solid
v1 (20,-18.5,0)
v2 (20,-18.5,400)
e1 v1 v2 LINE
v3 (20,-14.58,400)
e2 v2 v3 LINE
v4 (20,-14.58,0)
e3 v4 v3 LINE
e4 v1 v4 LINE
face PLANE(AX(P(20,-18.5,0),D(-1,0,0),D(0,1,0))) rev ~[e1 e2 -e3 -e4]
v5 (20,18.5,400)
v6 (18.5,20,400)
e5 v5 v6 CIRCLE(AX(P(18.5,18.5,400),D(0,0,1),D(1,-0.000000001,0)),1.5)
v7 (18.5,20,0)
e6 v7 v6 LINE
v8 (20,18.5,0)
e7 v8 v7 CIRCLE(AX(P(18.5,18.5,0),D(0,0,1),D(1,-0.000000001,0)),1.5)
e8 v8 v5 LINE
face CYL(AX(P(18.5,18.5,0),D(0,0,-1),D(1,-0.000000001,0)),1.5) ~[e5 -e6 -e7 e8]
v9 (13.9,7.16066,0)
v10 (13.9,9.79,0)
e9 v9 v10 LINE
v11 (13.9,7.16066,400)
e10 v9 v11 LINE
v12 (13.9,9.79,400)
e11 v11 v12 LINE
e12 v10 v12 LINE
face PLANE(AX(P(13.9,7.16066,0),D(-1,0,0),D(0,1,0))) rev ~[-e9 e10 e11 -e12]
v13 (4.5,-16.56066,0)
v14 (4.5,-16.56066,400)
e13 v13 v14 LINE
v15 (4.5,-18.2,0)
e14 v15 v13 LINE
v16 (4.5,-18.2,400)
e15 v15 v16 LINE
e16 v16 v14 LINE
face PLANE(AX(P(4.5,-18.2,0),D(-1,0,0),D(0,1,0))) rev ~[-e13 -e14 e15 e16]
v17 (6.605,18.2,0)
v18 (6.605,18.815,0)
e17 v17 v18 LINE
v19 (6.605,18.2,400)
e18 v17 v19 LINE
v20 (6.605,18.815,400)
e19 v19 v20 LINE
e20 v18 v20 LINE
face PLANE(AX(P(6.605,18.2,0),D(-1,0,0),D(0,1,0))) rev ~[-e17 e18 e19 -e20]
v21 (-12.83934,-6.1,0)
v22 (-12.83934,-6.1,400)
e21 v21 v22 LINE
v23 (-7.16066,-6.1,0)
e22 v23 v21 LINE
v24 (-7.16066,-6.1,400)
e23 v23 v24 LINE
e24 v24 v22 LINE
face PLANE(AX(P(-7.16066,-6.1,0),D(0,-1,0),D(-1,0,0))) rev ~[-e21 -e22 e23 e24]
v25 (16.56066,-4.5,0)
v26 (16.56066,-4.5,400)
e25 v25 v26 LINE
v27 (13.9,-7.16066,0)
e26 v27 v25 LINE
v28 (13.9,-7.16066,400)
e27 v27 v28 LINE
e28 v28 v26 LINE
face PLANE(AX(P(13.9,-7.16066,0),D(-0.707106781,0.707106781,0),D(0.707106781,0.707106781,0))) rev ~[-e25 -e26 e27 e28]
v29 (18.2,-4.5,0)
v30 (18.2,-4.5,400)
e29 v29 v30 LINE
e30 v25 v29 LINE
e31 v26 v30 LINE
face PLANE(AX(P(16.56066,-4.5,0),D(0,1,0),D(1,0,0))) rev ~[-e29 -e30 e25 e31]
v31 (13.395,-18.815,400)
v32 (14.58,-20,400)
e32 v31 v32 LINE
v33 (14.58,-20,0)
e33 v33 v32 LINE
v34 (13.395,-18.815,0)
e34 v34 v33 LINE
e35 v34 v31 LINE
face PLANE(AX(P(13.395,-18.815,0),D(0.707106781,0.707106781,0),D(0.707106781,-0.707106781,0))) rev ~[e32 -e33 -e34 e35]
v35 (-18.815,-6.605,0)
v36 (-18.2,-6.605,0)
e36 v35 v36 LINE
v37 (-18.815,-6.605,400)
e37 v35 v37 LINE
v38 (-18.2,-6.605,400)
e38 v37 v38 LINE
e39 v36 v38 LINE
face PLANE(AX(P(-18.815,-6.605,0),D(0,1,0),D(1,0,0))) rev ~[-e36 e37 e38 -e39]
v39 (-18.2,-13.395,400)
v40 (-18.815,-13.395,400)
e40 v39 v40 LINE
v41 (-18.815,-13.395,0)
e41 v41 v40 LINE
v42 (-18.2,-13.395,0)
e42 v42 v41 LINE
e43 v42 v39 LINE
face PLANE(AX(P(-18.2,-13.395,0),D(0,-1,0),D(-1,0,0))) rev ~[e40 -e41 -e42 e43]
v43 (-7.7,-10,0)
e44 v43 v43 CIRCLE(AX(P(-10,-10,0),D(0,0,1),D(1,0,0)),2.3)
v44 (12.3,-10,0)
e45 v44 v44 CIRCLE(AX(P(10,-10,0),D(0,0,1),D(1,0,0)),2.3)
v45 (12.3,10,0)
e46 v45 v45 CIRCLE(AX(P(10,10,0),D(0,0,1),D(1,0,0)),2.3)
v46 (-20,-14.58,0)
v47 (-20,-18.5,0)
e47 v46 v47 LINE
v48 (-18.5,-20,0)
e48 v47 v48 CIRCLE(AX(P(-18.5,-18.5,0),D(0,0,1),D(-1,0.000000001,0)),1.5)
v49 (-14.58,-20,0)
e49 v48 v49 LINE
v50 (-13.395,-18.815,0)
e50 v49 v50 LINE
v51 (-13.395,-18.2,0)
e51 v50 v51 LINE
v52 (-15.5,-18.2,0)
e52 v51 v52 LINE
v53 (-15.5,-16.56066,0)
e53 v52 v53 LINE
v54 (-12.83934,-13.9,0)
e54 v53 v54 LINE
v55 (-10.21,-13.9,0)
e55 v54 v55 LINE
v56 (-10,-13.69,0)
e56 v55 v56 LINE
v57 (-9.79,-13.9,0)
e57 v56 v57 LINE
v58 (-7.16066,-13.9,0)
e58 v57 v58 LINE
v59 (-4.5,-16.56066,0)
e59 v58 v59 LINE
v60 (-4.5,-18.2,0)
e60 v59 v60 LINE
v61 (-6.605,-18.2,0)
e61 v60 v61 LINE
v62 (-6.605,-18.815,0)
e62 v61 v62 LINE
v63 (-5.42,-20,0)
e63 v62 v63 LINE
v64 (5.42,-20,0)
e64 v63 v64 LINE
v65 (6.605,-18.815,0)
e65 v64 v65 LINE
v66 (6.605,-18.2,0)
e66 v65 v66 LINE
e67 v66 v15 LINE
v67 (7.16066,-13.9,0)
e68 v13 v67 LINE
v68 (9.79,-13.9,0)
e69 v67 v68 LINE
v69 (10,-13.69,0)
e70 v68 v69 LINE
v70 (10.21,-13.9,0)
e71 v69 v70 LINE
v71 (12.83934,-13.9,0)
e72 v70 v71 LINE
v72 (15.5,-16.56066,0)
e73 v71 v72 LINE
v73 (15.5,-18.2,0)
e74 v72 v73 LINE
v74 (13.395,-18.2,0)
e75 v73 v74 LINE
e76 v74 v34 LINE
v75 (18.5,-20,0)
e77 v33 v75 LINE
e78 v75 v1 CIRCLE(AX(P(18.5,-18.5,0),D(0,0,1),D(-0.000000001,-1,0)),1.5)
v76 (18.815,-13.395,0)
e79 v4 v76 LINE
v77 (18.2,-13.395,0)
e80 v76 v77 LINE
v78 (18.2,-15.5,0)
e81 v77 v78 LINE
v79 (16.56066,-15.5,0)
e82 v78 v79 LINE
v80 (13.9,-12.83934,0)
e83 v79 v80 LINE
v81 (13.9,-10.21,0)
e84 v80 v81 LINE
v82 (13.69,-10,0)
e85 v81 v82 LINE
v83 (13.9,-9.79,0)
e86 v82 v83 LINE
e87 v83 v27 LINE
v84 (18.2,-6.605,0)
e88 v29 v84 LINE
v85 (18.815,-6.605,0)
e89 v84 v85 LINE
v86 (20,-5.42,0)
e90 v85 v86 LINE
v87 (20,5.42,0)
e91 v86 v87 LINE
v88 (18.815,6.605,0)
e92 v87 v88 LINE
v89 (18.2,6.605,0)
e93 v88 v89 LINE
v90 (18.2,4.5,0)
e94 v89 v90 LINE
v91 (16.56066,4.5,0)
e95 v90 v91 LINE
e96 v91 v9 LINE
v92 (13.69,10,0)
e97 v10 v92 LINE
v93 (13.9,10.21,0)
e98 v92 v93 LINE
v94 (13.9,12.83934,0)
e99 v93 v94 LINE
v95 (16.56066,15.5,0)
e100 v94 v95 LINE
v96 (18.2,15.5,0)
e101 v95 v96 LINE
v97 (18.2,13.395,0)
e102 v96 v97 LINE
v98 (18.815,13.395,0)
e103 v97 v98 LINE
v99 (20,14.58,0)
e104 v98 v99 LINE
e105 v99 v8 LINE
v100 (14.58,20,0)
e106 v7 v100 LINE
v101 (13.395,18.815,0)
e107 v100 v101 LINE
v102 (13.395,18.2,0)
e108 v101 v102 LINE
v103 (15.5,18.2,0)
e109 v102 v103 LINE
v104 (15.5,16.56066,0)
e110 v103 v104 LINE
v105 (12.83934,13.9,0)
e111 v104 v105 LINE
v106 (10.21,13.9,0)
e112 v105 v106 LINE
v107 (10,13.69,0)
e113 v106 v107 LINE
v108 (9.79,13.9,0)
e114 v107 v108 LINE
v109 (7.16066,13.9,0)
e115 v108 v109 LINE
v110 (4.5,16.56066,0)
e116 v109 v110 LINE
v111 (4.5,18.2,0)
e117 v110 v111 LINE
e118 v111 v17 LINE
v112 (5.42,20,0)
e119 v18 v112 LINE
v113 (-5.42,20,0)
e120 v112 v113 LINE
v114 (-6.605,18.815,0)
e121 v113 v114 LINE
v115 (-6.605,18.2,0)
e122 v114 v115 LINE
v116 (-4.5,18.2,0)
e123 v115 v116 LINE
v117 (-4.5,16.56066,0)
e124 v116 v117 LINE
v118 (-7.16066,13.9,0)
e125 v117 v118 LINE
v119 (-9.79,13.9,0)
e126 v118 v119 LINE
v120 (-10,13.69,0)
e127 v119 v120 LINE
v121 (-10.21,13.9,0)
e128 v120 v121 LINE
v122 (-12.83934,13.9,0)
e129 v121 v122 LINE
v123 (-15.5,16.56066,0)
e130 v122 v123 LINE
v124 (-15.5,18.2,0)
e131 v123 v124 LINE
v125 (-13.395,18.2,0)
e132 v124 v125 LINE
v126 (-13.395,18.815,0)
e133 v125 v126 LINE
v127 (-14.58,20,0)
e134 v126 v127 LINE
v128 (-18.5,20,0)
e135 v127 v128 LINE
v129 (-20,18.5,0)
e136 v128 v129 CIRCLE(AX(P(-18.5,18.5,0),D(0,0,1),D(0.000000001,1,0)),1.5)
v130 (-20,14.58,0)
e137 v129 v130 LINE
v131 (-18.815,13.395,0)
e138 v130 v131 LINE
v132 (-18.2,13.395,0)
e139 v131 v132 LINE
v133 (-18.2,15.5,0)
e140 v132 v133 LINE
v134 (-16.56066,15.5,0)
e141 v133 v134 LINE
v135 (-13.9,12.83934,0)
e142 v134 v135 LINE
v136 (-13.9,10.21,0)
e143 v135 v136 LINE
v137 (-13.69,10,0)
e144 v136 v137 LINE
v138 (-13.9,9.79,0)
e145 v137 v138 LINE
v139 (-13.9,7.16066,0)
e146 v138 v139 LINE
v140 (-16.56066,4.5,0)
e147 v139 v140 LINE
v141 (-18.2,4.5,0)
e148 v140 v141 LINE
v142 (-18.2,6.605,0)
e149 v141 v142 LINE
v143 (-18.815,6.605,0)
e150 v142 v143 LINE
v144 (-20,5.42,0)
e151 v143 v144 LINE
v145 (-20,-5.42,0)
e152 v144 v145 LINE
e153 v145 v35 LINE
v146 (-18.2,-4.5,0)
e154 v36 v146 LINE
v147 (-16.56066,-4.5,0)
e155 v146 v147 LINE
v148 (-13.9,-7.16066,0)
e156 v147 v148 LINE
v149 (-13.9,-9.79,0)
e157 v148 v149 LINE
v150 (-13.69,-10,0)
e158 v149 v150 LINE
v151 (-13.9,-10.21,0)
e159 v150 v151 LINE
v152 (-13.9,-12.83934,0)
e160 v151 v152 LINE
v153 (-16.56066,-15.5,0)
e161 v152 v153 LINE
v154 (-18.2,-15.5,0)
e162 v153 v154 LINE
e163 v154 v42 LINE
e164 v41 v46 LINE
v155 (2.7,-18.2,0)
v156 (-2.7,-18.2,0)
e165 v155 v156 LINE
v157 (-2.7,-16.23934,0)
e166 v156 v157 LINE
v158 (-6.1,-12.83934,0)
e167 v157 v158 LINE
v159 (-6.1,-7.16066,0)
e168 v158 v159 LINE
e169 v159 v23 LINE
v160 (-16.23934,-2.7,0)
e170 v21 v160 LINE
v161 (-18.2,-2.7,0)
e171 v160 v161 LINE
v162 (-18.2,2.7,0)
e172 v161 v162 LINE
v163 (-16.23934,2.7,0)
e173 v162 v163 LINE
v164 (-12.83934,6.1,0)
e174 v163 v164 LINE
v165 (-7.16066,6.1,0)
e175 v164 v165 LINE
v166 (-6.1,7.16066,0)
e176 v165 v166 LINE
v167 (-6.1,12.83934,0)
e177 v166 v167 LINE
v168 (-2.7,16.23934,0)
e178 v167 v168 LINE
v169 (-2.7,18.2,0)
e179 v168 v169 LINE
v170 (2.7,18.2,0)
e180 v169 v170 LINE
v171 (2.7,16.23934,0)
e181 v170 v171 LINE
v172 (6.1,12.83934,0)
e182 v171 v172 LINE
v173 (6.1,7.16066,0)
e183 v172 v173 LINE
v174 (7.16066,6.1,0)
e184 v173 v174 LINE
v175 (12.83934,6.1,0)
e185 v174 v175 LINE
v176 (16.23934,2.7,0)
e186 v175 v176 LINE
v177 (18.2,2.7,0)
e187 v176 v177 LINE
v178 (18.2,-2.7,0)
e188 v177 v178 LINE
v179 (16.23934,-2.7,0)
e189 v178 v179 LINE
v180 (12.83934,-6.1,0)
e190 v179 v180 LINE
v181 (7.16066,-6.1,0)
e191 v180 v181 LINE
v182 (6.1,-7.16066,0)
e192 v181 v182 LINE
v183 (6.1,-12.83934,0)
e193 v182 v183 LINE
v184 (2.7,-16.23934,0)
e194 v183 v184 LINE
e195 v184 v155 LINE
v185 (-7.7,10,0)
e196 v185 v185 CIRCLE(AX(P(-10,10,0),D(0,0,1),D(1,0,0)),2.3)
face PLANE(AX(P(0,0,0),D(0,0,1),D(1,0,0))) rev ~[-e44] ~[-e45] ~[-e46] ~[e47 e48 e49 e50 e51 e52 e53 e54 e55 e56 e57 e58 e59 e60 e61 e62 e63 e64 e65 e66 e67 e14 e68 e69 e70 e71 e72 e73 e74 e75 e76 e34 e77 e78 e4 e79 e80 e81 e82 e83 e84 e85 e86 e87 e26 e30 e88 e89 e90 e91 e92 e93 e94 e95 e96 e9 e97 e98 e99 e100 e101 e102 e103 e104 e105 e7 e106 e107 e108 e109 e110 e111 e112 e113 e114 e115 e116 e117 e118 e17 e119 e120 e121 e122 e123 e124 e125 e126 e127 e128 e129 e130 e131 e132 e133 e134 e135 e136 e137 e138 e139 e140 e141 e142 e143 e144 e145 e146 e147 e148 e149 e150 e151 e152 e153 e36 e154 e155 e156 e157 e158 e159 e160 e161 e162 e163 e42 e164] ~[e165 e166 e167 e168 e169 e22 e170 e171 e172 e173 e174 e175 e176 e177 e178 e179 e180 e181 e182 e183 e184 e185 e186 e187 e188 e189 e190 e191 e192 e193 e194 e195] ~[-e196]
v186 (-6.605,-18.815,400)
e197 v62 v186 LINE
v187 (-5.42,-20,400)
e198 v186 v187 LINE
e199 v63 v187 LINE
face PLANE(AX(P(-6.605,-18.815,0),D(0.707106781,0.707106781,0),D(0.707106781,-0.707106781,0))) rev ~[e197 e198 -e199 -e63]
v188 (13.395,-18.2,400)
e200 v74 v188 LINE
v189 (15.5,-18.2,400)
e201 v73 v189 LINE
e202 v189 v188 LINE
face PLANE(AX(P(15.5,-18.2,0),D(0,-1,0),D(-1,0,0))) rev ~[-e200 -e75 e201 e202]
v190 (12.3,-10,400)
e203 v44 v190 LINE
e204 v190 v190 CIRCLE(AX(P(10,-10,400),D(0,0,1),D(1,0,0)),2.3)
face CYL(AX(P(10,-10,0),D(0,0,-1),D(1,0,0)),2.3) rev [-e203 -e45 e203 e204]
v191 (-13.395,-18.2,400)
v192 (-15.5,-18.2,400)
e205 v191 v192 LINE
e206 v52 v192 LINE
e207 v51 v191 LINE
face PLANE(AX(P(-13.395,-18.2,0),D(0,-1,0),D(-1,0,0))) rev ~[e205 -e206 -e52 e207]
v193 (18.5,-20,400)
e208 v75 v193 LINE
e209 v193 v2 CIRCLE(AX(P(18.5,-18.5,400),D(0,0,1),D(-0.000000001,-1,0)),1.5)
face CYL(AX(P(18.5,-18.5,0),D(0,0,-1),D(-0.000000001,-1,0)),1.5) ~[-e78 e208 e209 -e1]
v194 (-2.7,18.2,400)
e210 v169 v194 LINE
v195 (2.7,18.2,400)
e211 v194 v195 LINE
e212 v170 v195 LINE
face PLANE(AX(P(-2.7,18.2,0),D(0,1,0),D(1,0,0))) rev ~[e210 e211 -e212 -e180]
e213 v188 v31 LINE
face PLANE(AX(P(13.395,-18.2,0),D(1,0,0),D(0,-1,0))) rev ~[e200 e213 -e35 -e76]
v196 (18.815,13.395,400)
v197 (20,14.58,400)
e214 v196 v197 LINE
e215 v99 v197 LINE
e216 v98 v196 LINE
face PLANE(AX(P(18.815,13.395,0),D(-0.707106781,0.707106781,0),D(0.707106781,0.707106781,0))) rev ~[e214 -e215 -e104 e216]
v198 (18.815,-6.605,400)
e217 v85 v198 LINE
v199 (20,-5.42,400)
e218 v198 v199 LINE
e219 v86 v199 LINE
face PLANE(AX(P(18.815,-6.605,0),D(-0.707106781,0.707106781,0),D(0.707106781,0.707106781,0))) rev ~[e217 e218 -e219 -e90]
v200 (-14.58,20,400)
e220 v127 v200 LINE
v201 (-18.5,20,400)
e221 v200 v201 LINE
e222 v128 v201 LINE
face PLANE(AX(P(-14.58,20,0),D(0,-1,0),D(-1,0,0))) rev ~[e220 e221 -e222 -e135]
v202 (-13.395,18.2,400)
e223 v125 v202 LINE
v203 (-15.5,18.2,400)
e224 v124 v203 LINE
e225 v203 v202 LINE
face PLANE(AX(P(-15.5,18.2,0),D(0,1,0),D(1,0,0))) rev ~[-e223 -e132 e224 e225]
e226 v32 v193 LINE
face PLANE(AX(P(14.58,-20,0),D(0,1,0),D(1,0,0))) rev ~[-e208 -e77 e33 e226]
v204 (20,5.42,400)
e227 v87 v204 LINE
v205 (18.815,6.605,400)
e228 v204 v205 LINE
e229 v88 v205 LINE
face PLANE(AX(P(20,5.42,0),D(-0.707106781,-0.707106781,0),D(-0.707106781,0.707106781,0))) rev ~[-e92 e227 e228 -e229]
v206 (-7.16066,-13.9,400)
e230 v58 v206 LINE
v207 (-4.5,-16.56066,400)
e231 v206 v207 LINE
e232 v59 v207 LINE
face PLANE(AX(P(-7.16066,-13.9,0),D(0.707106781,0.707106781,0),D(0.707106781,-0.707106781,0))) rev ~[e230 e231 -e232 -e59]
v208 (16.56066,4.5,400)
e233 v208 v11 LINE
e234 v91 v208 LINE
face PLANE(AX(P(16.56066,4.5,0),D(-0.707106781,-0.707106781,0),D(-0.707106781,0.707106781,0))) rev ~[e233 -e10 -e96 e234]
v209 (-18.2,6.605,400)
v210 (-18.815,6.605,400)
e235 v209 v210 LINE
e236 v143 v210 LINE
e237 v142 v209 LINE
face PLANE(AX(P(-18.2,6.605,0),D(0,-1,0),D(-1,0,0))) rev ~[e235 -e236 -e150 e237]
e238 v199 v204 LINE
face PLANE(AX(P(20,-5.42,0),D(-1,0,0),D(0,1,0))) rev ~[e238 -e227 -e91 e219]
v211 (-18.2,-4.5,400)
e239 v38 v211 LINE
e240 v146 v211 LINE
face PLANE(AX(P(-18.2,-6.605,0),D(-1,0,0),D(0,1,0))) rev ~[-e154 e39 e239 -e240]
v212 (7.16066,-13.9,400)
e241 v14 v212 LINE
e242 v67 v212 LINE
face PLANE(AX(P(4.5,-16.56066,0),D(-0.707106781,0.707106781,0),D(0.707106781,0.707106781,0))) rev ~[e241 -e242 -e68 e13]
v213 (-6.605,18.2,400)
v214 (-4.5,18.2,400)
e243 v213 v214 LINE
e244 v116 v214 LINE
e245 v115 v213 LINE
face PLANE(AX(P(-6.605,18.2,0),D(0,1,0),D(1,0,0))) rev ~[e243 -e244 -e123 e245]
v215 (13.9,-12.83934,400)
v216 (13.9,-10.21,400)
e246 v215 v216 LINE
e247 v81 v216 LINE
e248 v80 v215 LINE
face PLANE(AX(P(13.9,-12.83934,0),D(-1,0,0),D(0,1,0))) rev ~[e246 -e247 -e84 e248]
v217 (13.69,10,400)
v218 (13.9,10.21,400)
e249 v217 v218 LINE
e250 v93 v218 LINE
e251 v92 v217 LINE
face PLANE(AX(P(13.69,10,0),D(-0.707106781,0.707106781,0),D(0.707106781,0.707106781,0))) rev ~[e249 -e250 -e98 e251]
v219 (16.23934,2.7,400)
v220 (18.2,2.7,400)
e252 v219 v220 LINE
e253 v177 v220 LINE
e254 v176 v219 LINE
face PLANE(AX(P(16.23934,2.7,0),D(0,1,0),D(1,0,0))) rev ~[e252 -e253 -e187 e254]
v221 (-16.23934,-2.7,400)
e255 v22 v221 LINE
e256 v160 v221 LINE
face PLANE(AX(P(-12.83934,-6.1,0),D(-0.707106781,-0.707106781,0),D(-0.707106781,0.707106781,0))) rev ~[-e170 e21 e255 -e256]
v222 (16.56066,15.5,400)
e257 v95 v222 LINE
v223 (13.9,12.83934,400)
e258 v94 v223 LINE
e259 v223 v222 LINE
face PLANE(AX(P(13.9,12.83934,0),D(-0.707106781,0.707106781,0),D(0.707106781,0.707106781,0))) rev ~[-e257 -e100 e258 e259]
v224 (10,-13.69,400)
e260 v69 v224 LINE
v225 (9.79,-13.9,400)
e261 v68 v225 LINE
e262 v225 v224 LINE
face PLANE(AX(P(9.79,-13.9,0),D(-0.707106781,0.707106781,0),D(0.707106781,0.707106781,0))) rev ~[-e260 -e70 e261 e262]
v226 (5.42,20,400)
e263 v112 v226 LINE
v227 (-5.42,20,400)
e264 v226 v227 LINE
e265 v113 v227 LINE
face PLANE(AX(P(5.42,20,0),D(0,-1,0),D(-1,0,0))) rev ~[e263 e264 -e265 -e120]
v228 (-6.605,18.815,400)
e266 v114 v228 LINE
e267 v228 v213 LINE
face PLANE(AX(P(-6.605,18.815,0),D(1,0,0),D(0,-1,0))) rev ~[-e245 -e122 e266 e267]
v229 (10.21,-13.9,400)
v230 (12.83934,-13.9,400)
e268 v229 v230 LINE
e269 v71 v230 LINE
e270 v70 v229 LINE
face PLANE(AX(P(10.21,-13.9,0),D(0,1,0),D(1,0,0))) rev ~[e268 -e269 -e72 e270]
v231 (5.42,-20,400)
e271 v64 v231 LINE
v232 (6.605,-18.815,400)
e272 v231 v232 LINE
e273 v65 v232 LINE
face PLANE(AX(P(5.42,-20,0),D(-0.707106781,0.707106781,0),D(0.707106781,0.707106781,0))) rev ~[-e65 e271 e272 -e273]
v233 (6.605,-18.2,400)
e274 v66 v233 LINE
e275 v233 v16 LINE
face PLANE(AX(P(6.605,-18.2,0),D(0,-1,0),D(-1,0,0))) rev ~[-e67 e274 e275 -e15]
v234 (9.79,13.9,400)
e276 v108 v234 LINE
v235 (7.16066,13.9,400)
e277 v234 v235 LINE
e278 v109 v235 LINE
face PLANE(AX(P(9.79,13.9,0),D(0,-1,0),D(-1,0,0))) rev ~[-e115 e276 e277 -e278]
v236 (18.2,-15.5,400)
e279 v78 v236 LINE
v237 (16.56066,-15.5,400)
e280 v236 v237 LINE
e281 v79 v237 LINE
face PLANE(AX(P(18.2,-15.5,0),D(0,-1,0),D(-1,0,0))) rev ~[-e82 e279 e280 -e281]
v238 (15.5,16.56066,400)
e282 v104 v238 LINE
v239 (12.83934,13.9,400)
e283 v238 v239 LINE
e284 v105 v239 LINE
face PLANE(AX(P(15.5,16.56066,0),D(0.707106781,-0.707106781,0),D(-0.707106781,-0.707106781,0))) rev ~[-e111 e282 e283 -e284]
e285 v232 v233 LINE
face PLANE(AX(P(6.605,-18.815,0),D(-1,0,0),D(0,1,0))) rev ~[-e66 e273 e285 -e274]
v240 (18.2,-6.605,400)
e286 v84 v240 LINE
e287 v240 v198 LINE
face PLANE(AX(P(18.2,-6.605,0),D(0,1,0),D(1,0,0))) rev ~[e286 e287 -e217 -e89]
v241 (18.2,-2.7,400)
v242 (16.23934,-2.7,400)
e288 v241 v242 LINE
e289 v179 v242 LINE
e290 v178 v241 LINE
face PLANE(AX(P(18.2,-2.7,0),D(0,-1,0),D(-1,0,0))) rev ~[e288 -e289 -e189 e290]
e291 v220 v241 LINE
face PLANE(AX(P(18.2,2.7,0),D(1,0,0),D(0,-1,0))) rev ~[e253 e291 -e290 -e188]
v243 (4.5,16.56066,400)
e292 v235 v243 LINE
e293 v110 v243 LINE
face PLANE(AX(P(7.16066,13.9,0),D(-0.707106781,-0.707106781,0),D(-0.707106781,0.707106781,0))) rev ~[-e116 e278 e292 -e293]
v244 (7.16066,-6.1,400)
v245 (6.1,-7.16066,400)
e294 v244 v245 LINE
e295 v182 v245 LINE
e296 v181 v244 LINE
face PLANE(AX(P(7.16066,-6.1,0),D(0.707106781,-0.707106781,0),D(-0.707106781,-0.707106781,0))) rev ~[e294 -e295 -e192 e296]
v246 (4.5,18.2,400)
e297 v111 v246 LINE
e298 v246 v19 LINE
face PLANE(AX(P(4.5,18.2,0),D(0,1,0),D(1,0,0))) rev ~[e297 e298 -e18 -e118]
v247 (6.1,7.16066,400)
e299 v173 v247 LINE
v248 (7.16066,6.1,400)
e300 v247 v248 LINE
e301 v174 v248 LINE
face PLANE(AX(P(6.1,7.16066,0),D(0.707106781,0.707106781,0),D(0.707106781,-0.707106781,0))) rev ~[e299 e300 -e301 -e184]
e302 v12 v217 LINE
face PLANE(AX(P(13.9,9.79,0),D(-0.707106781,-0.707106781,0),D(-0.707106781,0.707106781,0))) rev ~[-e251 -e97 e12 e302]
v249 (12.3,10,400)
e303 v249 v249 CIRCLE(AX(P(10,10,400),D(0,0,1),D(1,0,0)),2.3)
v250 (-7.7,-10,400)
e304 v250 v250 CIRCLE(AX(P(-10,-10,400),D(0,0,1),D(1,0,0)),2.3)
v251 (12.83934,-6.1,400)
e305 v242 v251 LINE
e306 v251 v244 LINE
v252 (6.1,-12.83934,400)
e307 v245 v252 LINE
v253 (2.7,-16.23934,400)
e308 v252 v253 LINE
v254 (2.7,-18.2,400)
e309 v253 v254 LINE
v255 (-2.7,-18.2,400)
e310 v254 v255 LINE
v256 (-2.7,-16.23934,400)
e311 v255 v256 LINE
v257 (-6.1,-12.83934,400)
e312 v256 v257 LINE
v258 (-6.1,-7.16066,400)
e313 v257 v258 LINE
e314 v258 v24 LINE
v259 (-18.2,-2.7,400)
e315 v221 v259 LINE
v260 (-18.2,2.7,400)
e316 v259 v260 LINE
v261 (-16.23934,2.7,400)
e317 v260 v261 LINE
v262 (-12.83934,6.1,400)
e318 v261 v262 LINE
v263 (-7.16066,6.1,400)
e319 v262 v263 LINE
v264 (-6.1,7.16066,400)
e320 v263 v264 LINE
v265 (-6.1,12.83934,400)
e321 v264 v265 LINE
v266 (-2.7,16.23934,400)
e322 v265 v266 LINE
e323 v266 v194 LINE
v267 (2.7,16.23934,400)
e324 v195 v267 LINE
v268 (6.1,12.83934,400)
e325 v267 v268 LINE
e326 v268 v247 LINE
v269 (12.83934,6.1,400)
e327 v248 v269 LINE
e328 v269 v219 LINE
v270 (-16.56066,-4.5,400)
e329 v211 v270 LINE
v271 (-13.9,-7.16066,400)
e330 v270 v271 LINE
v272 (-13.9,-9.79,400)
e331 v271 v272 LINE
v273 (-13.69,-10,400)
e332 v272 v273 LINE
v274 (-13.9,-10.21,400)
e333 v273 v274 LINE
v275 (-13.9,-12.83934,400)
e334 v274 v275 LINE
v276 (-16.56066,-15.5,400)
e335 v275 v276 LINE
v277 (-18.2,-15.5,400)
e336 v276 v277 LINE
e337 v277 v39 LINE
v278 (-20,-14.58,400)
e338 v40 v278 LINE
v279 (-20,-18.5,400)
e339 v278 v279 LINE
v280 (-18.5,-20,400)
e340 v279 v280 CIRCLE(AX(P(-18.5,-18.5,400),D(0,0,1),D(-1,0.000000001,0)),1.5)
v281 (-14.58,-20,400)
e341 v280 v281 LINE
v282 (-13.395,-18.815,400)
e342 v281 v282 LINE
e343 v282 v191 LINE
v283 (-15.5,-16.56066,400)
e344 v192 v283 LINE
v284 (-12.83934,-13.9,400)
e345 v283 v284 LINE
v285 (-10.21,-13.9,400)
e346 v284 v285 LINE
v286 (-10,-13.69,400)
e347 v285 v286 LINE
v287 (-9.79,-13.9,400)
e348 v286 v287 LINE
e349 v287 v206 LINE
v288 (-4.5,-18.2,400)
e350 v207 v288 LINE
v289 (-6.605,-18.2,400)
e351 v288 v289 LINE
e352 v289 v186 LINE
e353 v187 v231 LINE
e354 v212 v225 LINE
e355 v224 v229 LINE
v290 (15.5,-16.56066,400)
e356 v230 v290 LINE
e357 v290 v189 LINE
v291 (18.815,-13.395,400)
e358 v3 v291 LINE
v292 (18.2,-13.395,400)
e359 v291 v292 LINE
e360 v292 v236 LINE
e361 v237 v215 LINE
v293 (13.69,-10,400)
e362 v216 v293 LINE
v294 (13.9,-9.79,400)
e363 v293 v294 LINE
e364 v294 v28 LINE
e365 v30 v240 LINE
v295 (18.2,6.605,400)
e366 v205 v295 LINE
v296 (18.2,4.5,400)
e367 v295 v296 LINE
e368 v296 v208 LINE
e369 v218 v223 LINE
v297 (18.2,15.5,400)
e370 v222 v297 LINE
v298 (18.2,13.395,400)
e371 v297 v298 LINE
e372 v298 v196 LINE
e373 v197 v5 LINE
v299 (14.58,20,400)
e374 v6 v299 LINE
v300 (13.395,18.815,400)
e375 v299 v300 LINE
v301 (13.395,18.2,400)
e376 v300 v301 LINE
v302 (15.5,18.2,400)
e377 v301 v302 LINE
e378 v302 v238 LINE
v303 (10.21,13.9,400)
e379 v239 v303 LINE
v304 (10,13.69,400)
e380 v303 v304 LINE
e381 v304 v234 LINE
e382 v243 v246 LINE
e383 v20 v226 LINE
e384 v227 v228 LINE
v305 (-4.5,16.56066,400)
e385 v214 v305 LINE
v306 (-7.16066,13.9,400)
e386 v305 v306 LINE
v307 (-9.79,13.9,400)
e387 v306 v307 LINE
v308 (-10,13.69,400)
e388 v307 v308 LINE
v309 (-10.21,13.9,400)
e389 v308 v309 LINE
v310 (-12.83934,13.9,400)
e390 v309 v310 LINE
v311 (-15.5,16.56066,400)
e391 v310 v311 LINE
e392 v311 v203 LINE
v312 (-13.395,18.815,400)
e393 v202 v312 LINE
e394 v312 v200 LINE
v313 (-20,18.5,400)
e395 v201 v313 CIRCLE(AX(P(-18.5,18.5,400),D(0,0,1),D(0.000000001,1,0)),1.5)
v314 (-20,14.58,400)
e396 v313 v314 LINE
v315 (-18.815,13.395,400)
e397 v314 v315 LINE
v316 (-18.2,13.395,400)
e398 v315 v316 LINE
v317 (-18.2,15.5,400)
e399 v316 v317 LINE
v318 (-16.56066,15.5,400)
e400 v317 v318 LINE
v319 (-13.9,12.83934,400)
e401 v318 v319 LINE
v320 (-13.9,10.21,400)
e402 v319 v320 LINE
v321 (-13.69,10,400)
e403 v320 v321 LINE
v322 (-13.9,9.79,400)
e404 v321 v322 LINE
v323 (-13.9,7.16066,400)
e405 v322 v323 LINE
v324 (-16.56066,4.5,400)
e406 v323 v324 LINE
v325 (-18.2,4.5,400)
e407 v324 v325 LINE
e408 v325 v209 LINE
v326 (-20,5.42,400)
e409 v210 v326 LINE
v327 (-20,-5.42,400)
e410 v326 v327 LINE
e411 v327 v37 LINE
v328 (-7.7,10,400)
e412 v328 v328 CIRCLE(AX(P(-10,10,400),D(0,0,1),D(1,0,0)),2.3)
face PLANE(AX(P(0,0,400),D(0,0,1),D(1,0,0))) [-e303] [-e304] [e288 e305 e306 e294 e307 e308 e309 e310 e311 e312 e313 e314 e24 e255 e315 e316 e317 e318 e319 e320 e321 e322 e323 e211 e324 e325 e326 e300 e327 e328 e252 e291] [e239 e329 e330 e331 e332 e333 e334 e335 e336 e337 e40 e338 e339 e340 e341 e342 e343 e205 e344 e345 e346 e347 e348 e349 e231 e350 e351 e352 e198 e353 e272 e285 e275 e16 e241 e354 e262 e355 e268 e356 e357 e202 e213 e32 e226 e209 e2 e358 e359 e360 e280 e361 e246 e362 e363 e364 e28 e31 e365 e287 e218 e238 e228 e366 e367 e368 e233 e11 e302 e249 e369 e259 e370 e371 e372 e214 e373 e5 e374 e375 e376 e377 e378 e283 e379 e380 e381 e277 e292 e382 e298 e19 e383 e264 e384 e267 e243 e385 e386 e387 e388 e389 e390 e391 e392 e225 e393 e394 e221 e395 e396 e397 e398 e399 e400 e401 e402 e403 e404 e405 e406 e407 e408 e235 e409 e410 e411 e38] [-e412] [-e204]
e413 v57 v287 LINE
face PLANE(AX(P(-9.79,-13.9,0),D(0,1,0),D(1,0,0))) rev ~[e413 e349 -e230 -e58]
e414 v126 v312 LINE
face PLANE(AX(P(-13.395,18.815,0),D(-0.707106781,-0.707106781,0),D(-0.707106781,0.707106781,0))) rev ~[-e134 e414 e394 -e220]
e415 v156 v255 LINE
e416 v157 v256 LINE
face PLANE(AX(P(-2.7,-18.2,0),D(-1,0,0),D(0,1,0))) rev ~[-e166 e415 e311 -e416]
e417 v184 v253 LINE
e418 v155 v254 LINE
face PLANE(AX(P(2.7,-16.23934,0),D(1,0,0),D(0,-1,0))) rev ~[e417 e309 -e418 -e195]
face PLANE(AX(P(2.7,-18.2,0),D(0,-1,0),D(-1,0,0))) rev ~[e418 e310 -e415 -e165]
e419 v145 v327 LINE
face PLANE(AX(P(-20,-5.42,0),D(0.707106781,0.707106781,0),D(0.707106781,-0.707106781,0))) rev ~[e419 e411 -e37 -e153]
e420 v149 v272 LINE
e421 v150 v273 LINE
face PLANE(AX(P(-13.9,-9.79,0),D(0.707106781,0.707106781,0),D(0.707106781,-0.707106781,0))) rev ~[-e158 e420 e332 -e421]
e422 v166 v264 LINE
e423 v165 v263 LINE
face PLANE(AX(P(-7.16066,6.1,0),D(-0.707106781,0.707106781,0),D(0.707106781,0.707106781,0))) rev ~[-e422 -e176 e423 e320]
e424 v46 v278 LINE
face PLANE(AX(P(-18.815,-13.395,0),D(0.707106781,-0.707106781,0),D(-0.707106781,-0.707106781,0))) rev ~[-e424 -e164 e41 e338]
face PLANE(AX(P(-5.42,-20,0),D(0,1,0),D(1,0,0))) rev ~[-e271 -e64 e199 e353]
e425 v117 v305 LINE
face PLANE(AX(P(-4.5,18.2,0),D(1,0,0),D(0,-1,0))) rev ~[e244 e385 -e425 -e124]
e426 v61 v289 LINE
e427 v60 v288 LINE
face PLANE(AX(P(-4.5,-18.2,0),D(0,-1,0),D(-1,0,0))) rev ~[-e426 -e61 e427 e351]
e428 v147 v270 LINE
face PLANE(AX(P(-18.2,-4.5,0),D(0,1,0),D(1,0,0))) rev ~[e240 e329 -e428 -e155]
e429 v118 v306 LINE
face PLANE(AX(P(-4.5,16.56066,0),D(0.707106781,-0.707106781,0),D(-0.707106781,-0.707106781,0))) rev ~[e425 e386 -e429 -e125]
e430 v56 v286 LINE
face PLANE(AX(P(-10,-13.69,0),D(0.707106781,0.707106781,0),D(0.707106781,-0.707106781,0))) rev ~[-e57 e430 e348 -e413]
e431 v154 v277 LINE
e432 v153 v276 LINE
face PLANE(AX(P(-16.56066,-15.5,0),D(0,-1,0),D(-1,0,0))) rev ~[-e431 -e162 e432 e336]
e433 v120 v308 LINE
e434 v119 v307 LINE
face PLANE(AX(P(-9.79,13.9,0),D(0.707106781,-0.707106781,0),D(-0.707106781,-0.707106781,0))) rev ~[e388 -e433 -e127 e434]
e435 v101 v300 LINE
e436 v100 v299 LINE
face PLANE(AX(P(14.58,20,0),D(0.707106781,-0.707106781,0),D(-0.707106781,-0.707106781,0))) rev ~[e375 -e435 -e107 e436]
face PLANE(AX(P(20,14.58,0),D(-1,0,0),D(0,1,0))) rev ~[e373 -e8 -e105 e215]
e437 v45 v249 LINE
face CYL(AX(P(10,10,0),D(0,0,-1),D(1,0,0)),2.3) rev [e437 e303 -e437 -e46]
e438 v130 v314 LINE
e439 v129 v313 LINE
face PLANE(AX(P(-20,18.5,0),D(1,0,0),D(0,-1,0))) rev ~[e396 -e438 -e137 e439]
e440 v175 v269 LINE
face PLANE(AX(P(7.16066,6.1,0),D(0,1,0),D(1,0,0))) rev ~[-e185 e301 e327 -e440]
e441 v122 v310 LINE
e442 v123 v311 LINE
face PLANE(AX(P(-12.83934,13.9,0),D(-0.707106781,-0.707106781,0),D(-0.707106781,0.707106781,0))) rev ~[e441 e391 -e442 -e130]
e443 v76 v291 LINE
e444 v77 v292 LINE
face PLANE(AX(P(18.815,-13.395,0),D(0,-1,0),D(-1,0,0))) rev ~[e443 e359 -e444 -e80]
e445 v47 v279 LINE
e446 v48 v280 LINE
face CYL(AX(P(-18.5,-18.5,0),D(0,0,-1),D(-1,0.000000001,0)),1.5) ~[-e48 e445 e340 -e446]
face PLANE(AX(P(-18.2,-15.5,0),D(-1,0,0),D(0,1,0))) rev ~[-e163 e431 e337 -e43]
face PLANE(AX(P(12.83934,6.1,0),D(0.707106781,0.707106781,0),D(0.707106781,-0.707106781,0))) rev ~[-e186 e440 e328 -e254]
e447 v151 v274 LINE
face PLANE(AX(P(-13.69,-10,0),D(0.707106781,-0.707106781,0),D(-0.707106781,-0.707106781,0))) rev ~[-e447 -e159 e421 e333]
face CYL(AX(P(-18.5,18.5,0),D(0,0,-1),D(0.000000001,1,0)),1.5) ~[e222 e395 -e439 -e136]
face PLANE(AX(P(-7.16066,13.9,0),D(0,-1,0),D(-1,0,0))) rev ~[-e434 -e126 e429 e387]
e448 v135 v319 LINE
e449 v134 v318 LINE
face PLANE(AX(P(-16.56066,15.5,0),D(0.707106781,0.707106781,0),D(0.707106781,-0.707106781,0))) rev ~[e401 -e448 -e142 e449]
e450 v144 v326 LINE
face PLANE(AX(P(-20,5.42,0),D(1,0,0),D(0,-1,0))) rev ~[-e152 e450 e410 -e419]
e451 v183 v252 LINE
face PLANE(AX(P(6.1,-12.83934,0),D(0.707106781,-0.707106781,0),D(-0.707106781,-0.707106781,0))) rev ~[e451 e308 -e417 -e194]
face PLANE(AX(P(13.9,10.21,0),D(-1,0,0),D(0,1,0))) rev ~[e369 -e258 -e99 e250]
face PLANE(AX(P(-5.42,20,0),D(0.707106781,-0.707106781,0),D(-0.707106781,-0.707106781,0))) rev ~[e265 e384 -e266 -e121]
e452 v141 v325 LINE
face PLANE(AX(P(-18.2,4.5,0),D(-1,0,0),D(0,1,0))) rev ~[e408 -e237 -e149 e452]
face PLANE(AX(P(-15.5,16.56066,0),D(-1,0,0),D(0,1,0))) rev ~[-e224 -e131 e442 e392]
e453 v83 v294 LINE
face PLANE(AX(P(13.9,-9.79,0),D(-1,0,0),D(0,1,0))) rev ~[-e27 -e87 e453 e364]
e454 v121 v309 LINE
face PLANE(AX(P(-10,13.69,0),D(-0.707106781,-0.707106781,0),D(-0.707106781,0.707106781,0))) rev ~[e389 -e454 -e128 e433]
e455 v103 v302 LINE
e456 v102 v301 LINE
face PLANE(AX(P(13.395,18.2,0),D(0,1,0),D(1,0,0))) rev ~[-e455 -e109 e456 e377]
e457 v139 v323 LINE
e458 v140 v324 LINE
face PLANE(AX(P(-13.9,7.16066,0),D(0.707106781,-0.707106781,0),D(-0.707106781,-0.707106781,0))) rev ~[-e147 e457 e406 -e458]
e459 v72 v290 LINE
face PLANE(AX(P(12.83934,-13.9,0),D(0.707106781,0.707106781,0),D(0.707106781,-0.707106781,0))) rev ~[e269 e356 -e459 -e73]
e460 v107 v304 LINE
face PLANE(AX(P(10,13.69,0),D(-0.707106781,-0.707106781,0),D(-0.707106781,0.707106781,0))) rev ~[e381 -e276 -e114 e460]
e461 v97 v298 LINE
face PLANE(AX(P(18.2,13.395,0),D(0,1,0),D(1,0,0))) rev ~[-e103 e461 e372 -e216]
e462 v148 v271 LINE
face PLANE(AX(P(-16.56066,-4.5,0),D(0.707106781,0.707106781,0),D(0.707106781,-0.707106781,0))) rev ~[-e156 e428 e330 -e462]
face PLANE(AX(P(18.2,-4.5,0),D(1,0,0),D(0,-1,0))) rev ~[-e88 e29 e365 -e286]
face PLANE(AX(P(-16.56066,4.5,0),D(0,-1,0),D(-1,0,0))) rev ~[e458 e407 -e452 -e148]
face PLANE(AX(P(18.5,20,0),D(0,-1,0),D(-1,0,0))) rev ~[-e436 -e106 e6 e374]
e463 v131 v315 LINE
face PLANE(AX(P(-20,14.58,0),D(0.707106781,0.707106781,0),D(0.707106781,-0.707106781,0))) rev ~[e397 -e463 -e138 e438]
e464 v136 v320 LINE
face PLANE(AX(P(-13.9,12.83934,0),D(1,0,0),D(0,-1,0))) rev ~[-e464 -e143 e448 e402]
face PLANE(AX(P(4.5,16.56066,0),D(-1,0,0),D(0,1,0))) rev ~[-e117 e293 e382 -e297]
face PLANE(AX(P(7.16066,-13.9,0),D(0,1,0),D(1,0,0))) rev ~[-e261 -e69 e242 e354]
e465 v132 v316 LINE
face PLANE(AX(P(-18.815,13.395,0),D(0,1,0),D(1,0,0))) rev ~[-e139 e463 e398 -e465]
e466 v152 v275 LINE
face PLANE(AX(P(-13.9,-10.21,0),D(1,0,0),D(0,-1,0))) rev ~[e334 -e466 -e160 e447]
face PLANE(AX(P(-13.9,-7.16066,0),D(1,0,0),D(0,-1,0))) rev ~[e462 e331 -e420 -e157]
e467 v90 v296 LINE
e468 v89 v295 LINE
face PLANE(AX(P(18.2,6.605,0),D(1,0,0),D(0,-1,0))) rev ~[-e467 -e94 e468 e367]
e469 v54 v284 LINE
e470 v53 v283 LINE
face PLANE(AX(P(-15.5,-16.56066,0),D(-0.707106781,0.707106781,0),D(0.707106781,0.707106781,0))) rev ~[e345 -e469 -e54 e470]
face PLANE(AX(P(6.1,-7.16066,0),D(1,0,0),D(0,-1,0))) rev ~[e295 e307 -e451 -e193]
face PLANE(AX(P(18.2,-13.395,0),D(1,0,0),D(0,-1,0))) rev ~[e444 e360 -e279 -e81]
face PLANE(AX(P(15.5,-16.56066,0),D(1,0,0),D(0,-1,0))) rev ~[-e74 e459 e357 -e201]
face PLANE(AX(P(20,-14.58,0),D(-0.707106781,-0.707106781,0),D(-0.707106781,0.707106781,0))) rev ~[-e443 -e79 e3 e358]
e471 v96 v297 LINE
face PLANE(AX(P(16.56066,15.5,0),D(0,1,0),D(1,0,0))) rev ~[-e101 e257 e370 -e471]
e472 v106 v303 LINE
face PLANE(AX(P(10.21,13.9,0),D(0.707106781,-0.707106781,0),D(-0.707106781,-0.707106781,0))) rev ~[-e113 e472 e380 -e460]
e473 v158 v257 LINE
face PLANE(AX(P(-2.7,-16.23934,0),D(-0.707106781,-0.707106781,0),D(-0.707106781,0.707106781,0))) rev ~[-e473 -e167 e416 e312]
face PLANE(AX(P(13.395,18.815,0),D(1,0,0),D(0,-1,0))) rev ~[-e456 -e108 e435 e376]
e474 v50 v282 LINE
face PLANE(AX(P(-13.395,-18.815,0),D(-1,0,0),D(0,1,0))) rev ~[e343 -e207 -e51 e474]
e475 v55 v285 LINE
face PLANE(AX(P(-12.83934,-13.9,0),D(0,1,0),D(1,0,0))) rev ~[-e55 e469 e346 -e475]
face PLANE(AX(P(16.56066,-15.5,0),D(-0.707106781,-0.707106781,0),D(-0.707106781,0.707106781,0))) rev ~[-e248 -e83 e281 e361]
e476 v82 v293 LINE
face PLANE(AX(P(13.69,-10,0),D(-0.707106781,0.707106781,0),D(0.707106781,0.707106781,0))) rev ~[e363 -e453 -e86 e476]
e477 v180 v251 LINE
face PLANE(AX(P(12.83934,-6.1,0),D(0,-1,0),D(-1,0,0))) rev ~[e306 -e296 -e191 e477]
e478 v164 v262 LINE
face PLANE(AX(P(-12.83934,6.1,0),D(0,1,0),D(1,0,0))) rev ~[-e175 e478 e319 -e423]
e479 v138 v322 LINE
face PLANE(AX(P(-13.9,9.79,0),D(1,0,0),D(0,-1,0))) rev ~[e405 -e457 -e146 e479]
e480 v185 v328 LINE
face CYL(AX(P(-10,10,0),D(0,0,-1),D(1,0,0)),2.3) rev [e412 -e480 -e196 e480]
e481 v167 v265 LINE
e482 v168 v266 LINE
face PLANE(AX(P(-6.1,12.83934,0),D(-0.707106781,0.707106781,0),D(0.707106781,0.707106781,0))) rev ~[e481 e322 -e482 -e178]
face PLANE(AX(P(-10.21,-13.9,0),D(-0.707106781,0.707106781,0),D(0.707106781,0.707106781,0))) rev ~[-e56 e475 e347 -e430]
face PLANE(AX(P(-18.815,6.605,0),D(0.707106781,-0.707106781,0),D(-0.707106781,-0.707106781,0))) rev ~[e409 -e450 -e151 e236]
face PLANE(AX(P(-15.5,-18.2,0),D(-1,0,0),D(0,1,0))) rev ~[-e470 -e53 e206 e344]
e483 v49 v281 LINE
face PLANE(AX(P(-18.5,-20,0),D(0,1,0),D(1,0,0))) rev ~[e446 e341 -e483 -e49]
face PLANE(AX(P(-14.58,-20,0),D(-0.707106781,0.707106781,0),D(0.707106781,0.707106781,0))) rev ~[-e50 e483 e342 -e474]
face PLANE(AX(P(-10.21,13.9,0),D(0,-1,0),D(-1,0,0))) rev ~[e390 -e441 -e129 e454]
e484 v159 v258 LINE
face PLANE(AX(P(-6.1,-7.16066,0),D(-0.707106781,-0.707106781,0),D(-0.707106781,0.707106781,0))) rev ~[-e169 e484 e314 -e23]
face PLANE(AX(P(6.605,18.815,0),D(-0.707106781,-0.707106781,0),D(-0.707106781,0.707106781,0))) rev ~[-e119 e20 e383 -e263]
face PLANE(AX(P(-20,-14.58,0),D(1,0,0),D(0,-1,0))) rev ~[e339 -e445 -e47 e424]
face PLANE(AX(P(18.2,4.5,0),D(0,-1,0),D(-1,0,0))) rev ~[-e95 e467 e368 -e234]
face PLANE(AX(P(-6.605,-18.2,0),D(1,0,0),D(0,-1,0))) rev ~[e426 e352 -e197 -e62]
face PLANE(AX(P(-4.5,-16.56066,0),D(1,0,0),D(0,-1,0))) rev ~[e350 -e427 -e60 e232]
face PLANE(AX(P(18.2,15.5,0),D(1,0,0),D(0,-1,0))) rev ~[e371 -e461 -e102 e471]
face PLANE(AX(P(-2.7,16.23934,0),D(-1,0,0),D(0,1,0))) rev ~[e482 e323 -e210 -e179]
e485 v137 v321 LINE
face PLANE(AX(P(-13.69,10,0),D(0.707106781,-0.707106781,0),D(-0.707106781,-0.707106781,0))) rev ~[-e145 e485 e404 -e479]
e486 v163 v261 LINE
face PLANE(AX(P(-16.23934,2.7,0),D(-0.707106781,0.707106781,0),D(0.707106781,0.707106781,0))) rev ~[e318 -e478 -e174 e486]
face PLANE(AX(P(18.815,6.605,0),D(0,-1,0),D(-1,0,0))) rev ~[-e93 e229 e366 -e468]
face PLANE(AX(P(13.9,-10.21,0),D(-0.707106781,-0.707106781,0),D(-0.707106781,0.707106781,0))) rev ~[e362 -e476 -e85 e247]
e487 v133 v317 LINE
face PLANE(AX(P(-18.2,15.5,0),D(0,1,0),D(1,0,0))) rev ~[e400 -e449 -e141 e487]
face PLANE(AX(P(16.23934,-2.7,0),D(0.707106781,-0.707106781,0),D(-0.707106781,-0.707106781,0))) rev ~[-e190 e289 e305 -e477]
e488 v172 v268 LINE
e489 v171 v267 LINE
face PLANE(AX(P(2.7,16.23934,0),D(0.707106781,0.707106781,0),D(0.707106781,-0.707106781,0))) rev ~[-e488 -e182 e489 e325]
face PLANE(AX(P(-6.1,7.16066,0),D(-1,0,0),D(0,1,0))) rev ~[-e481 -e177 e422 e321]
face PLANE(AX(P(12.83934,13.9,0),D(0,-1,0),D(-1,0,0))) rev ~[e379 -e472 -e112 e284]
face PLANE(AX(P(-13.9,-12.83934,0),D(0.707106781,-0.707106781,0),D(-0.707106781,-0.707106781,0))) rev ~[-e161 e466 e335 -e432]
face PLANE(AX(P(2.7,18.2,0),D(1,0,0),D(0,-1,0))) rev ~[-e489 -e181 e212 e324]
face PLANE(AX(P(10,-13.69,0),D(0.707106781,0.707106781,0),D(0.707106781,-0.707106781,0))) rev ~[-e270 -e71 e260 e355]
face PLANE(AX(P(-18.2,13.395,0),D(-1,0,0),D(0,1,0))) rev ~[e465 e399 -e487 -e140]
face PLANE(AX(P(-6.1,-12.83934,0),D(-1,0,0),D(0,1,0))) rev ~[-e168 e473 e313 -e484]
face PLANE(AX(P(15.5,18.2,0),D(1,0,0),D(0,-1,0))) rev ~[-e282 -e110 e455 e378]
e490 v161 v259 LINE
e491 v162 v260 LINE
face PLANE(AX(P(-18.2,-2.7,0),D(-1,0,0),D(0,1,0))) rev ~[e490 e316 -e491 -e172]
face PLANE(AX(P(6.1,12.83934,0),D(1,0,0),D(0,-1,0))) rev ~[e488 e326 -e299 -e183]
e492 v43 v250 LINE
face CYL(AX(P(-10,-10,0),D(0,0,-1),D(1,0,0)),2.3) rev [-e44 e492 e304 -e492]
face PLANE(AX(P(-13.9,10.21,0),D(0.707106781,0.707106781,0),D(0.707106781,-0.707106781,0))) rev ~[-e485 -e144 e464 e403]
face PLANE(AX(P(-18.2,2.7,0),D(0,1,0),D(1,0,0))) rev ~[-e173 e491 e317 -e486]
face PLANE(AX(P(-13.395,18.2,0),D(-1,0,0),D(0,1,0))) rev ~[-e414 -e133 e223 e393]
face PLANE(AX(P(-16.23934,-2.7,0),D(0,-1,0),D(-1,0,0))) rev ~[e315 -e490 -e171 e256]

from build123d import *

# Parameters (mm, degrees)
SKETCH1_R           = 2.3
BOSS_EXTRUDE1_DEPTH = 400


with BuildPart() as part:
    # Sketch1 → Boss-Extrude1 (new body)
    with BuildSketch(Plane.XY):
        with BuildLine():
            Line((14.58, -20), (18.5, -20))
            ThreePointArc((18.5, -20), (19.560660172, -19.560660172), (20, -18.5))
            Line((20, -18.5), (20, -14.58))
            Line((20, -14.58), (18.815, -13.395))
            Line((18.815, -13.395), (18.2, -13.395))
            Line((18.2, -13.395), (18.2, -15.5))
            Line((18.2, -15.5), (16.560660172, -15.5))
            Line((16.560660172, -15.5), (13.9, -12.839339828))
            Line((13.9, -12.839339828), (13.9, -10.21))
            Line((13.9, -10.21), (13.69, -10))
            Line((13.69, -10), (13.9, -9.79))
            Line((13.9, -9.79), (13.9, -7.160660172))
            Line((13.9, -7.160660172), (16.560660172, -4.5))
            Line((16.560660172, -4.5), (18.2, -4.5))
            Line((18.2, -4.5), (18.2, -6.605))
            Line((18.2, -6.605), (18.815, -6.605))
            Line((18.815, -6.605), (20, -5.42))
            Line((20, -5.42), (20, 5.42))
            Line((20, 5.42), (18.815, 6.605))
            Line((18.815, 6.605), (18.2, 6.605))
            Line((18.2, 6.605), (18.2, 4.5))
            Line((18.2, 4.5), (16.560660172, 4.5))
            Line((16.560660172, 4.5), (13.9, 7.160660172))
            Line((13.9, 7.160660172), (13.9, 9.79))
            Line((13.9, 9.79), (13.69, 10))
            Line((13.69, 10), (13.9, 10.21))
            Line((13.9, 10.21), (13.9, 12.839339828))
            Line((13.9, 12.839339828), (16.560660172, 15.5))
            Line((16.560660172, 15.5), (18.2, 15.5))
            Line((18.2, 15.5), (18.2, 13.395))
            Line((18.2, 13.395), (18.815, 13.395))
            Line((18.815, 13.395), (20, 14.58))
            Line((20, 14.58), (20, 18.5))
            ThreePointArc((20, 18.5), (19.560660172, 19.560660172), (18.5, 20))
            Line((18.5, 20), (14.58, 20))
            Line((14.58, 20), (13.395, 18.815))
            Line((13.395, 18.815), (13.395, 18.2))
            Line((13.395, 18.2), (15.5, 18.2))
            Line((15.5, 18.2), (15.5, 16.560660172))
            Line((15.5, 16.560660172), (12.839339828, 13.9))
            Line((12.839339828, 13.9), (10.21, 13.9))
            Line((10.21, 13.9), (10, 13.69))
            Line((10, 13.69), (9.79, 13.9))
            Line((9.79, 13.9), (7.160660172, 13.9))
            Line((7.160660172, 13.9), (4.5, 16.560660172))
            Line((4.5, 16.560660172), (4.5, 18.2))
            Line((4.5, 18.2), (6.605, 18.2))
            Line((6.605, 18.2), (6.605, 18.815))
            Line((6.605, 18.815), (5.42, 20))
            Line((5.42, 20), (-5.42, 20))
            Line((-5.42, 20), (-6.605, 18.815))
            Line((-6.605, 18.815), (-6.605, 18.2))
            Line((-6.605, 18.2), (-4.5, 18.2))
            Line((-4.5, 18.2), (-4.5, 16.560660172))
            Line((-4.5, 16.560660172), (-7.160660172, 13.9))
            Line((-7.160660172, 13.9), (-9.79, 13.9))
            Line((-9.79, 13.9), (-10, 13.69))
            Line((-10, 13.69), (-10.21, 13.9))
            Line((-10.21, 13.9), (-12.839339828, 13.9))
            Line((-12.839339828, 13.9), (-15.5, 16.560660172))
            Line((-15.5, 16.560660172), (-15.5, 18.2))
            Line((-15.5, 18.2), (-13.395, 18.2))
            Line((-13.395, 18.2), (-13.395, 18.815))
            Line((-13.395, 18.815), (-14.58, 20))
            Line((-14.58, 20), (-18.5, 20))
            ThreePointArc((-18.5, 20), (-19.560660172, 19.560660172), (-20, 18.5))
            Line((-20, 18.5), (-20, 14.58))
            Line((-20, 14.58), (-18.815, 13.395))
            Line((-18.815, 13.395), (-18.2, 13.395))
            Line((-18.2, 13.395), (-18.2, 15.5))
            Line((-18.2, 15.5), (-16.560660172, 15.5))
            Line((-16.560660172, 15.5), (-13.9, 12.839339828))
            Line((-13.9, 12.839339828), (-13.9, 10.21))
            Line((-13.9, 10.21), (-13.69, 10))
            Line((-13.69, 10), (-13.9, 9.79))
            Line((-13.9, 9.79), (-13.9, 7.160660172))
            Line((-13.9, 7.160660172), (-16.560660172, 4.5))
            Line((-16.560660172, 4.5), (-18.2, 4.5))
            Line((-18.2, 4.5), (-18.2, 6.605))
            Line((-18.2, 6.605), (-18.815, 6.605))
            Line((-18.815, 6.605), (-20, 5.42))
            Line((-20, 5.42), (-20, -5.42))
            Line((-20, -5.42), (-18.815, -6.605))
            Line((-18.815, -6.605), (-18.2, -6.605))
            Line((-18.2, -6.605), (-18.2, -4.5))
            Line((-18.2, -4.5), (-16.560660172, -4.5))
            Line((-16.560660172, -4.5), (-13.9, -7.160660172))
            Line((-13.9, -7.160660172), (-13.9, -9.79))
            Line((-13.9, -9.79), (-13.69, -10))
            Line((-13.69, -10), (-13.9, -10.21))
            Line((-13.9, -10.21), (-13.9, -12.839339828))
            Line((-13.9, -12.839339828), (-16.560660172, -15.5))
            Line((-16.560660172, -15.5), (-18.2, -15.5))
            Line((-18.2, -15.5), (-18.2, -13.395))
            Line((-18.2, -13.395), (-18.815, -13.395))
            Line((-18.815, -13.395), (-20, -14.58))
            Line((-20, -14.58), (-20, -18.5))
            ThreePointArc((-20, -18.5), (-19.560660172, -19.560660172), (-18.5, -20))
            Line((-18.5, -20), (-14.58, -20))
            Line((-14.58, -20), (-13.395, -18.815))
            Line((-13.395, -18.815), (-13.395, -18.2))
            Line((-13.395, -18.2), (-15.5, -18.2))
            Line((-15.5, -18.2), (-15.5, -16.560660172))
            Line((-15.5, -16.560660172), (-12.839339828, -13.9))
            Line((-12.839339828, -13.9), (-10.21, -13.9))
            Line((-10.21, -13.9), (-10, -13.69))
            Line((-10, -13.69), (-9.79, -13.9))
            Line((-9.79, -13.9), (-7.160660172, -13.9))
            Line((-7.160660172, -13.9), (-4.5, -16.560660172))
            Line((-4.5, -16.560660172), (-4.5, -18.2))
            Line((-4.5, -18.2), (-6.605, -18.2))
            Line((-6.605, -18.2), (-6.605, -18.815))
            Line((-6.605, -18.815), (-5.42, -20))
            Line((-5.42, -20), (5.42, -20))
            Line((5.42, -20), (6.605, -18.815))
            Line((6.605, -18.815), (6.605, -18.2))
            Line((6.605, -18.2), (4.5, -18.2))
            Line((4.5, -18.2), (4.5, -16.560660172))
            Line((4.5, -16.560660172), (7.160660172, -13.9))
            Line((7.160660172, -13.9), (9.79, -13.9))
            Line((9.79, -13.9), (10, -13.69))
            Line((10, -13.69), (10.21, -13.9))
            Line((10.21, -13.9), (12.839339828, -13.9))
            Line((12.839339828, -13.9), (15.5, -16.560660172))
            Line((15.5, -16.560660172), (15.5, -18.2))
            Line((15.5, -18.2), (13.395, -18.2))
            Line((13.395, -18.2), (13.395, -18.815))
            Line((13.395, -18.815), (14.58, -20))
        make_face()
        with Locations((-10, -10)):
            Circle(SKETCH1_R, mode=Mode.SUBTRACT)
        with Locations((10, -10)):
            Circle(SKETCH1_R, mode=Mode.SUBTRACT)
        Polygon((-16.239339828, -2.7), (-18.2, -2.7), (-18.2, 2.7), (-16.239339828, 2.7), (-12.839339828, 6.1), (-7.160660172, 6.1), (-6.1, 7.160660172), (-6.1, 12.839339828), (-2.7, 16.239339828), (-2.7, 18.2), (2.7, 18.2), (2.7, 16.239339828), (6.1, 12.839339828), (6.1, 7.160660172), (7.160660172, 6.1), (12.839339828, 6.1), (16.239339828, 2.7), (18.2, 2.7), (18.2, -2.7), (16.239339828, -2.7), (12.839339828, -6.1), (7.160660172, -6.1), (6.1, -7.160660172), (6.1, -12.839339828), (2.7, -16.239339828), (2.7, -18.2), (-2.7, -18.2), (-2.7, -16.239339828), (-6.1, -12.839339828), (-6.1, -7.160660172), (-7.160660172, -6.1), (-12.839339828, -6.1), align=None, mode=Mode.SUBTRACT)
        with Locations((-10, 10)):
            Circle(SKETCH1_R, mode=Mode.SUBTRACT)
        with Locations((10, 10)):
            Circle(SKETCH1_R, mode=Mode.SUBTRACT)
    extrude(amount=BOSS_EXTRUDE1_DEPTH)


solid = part.part
